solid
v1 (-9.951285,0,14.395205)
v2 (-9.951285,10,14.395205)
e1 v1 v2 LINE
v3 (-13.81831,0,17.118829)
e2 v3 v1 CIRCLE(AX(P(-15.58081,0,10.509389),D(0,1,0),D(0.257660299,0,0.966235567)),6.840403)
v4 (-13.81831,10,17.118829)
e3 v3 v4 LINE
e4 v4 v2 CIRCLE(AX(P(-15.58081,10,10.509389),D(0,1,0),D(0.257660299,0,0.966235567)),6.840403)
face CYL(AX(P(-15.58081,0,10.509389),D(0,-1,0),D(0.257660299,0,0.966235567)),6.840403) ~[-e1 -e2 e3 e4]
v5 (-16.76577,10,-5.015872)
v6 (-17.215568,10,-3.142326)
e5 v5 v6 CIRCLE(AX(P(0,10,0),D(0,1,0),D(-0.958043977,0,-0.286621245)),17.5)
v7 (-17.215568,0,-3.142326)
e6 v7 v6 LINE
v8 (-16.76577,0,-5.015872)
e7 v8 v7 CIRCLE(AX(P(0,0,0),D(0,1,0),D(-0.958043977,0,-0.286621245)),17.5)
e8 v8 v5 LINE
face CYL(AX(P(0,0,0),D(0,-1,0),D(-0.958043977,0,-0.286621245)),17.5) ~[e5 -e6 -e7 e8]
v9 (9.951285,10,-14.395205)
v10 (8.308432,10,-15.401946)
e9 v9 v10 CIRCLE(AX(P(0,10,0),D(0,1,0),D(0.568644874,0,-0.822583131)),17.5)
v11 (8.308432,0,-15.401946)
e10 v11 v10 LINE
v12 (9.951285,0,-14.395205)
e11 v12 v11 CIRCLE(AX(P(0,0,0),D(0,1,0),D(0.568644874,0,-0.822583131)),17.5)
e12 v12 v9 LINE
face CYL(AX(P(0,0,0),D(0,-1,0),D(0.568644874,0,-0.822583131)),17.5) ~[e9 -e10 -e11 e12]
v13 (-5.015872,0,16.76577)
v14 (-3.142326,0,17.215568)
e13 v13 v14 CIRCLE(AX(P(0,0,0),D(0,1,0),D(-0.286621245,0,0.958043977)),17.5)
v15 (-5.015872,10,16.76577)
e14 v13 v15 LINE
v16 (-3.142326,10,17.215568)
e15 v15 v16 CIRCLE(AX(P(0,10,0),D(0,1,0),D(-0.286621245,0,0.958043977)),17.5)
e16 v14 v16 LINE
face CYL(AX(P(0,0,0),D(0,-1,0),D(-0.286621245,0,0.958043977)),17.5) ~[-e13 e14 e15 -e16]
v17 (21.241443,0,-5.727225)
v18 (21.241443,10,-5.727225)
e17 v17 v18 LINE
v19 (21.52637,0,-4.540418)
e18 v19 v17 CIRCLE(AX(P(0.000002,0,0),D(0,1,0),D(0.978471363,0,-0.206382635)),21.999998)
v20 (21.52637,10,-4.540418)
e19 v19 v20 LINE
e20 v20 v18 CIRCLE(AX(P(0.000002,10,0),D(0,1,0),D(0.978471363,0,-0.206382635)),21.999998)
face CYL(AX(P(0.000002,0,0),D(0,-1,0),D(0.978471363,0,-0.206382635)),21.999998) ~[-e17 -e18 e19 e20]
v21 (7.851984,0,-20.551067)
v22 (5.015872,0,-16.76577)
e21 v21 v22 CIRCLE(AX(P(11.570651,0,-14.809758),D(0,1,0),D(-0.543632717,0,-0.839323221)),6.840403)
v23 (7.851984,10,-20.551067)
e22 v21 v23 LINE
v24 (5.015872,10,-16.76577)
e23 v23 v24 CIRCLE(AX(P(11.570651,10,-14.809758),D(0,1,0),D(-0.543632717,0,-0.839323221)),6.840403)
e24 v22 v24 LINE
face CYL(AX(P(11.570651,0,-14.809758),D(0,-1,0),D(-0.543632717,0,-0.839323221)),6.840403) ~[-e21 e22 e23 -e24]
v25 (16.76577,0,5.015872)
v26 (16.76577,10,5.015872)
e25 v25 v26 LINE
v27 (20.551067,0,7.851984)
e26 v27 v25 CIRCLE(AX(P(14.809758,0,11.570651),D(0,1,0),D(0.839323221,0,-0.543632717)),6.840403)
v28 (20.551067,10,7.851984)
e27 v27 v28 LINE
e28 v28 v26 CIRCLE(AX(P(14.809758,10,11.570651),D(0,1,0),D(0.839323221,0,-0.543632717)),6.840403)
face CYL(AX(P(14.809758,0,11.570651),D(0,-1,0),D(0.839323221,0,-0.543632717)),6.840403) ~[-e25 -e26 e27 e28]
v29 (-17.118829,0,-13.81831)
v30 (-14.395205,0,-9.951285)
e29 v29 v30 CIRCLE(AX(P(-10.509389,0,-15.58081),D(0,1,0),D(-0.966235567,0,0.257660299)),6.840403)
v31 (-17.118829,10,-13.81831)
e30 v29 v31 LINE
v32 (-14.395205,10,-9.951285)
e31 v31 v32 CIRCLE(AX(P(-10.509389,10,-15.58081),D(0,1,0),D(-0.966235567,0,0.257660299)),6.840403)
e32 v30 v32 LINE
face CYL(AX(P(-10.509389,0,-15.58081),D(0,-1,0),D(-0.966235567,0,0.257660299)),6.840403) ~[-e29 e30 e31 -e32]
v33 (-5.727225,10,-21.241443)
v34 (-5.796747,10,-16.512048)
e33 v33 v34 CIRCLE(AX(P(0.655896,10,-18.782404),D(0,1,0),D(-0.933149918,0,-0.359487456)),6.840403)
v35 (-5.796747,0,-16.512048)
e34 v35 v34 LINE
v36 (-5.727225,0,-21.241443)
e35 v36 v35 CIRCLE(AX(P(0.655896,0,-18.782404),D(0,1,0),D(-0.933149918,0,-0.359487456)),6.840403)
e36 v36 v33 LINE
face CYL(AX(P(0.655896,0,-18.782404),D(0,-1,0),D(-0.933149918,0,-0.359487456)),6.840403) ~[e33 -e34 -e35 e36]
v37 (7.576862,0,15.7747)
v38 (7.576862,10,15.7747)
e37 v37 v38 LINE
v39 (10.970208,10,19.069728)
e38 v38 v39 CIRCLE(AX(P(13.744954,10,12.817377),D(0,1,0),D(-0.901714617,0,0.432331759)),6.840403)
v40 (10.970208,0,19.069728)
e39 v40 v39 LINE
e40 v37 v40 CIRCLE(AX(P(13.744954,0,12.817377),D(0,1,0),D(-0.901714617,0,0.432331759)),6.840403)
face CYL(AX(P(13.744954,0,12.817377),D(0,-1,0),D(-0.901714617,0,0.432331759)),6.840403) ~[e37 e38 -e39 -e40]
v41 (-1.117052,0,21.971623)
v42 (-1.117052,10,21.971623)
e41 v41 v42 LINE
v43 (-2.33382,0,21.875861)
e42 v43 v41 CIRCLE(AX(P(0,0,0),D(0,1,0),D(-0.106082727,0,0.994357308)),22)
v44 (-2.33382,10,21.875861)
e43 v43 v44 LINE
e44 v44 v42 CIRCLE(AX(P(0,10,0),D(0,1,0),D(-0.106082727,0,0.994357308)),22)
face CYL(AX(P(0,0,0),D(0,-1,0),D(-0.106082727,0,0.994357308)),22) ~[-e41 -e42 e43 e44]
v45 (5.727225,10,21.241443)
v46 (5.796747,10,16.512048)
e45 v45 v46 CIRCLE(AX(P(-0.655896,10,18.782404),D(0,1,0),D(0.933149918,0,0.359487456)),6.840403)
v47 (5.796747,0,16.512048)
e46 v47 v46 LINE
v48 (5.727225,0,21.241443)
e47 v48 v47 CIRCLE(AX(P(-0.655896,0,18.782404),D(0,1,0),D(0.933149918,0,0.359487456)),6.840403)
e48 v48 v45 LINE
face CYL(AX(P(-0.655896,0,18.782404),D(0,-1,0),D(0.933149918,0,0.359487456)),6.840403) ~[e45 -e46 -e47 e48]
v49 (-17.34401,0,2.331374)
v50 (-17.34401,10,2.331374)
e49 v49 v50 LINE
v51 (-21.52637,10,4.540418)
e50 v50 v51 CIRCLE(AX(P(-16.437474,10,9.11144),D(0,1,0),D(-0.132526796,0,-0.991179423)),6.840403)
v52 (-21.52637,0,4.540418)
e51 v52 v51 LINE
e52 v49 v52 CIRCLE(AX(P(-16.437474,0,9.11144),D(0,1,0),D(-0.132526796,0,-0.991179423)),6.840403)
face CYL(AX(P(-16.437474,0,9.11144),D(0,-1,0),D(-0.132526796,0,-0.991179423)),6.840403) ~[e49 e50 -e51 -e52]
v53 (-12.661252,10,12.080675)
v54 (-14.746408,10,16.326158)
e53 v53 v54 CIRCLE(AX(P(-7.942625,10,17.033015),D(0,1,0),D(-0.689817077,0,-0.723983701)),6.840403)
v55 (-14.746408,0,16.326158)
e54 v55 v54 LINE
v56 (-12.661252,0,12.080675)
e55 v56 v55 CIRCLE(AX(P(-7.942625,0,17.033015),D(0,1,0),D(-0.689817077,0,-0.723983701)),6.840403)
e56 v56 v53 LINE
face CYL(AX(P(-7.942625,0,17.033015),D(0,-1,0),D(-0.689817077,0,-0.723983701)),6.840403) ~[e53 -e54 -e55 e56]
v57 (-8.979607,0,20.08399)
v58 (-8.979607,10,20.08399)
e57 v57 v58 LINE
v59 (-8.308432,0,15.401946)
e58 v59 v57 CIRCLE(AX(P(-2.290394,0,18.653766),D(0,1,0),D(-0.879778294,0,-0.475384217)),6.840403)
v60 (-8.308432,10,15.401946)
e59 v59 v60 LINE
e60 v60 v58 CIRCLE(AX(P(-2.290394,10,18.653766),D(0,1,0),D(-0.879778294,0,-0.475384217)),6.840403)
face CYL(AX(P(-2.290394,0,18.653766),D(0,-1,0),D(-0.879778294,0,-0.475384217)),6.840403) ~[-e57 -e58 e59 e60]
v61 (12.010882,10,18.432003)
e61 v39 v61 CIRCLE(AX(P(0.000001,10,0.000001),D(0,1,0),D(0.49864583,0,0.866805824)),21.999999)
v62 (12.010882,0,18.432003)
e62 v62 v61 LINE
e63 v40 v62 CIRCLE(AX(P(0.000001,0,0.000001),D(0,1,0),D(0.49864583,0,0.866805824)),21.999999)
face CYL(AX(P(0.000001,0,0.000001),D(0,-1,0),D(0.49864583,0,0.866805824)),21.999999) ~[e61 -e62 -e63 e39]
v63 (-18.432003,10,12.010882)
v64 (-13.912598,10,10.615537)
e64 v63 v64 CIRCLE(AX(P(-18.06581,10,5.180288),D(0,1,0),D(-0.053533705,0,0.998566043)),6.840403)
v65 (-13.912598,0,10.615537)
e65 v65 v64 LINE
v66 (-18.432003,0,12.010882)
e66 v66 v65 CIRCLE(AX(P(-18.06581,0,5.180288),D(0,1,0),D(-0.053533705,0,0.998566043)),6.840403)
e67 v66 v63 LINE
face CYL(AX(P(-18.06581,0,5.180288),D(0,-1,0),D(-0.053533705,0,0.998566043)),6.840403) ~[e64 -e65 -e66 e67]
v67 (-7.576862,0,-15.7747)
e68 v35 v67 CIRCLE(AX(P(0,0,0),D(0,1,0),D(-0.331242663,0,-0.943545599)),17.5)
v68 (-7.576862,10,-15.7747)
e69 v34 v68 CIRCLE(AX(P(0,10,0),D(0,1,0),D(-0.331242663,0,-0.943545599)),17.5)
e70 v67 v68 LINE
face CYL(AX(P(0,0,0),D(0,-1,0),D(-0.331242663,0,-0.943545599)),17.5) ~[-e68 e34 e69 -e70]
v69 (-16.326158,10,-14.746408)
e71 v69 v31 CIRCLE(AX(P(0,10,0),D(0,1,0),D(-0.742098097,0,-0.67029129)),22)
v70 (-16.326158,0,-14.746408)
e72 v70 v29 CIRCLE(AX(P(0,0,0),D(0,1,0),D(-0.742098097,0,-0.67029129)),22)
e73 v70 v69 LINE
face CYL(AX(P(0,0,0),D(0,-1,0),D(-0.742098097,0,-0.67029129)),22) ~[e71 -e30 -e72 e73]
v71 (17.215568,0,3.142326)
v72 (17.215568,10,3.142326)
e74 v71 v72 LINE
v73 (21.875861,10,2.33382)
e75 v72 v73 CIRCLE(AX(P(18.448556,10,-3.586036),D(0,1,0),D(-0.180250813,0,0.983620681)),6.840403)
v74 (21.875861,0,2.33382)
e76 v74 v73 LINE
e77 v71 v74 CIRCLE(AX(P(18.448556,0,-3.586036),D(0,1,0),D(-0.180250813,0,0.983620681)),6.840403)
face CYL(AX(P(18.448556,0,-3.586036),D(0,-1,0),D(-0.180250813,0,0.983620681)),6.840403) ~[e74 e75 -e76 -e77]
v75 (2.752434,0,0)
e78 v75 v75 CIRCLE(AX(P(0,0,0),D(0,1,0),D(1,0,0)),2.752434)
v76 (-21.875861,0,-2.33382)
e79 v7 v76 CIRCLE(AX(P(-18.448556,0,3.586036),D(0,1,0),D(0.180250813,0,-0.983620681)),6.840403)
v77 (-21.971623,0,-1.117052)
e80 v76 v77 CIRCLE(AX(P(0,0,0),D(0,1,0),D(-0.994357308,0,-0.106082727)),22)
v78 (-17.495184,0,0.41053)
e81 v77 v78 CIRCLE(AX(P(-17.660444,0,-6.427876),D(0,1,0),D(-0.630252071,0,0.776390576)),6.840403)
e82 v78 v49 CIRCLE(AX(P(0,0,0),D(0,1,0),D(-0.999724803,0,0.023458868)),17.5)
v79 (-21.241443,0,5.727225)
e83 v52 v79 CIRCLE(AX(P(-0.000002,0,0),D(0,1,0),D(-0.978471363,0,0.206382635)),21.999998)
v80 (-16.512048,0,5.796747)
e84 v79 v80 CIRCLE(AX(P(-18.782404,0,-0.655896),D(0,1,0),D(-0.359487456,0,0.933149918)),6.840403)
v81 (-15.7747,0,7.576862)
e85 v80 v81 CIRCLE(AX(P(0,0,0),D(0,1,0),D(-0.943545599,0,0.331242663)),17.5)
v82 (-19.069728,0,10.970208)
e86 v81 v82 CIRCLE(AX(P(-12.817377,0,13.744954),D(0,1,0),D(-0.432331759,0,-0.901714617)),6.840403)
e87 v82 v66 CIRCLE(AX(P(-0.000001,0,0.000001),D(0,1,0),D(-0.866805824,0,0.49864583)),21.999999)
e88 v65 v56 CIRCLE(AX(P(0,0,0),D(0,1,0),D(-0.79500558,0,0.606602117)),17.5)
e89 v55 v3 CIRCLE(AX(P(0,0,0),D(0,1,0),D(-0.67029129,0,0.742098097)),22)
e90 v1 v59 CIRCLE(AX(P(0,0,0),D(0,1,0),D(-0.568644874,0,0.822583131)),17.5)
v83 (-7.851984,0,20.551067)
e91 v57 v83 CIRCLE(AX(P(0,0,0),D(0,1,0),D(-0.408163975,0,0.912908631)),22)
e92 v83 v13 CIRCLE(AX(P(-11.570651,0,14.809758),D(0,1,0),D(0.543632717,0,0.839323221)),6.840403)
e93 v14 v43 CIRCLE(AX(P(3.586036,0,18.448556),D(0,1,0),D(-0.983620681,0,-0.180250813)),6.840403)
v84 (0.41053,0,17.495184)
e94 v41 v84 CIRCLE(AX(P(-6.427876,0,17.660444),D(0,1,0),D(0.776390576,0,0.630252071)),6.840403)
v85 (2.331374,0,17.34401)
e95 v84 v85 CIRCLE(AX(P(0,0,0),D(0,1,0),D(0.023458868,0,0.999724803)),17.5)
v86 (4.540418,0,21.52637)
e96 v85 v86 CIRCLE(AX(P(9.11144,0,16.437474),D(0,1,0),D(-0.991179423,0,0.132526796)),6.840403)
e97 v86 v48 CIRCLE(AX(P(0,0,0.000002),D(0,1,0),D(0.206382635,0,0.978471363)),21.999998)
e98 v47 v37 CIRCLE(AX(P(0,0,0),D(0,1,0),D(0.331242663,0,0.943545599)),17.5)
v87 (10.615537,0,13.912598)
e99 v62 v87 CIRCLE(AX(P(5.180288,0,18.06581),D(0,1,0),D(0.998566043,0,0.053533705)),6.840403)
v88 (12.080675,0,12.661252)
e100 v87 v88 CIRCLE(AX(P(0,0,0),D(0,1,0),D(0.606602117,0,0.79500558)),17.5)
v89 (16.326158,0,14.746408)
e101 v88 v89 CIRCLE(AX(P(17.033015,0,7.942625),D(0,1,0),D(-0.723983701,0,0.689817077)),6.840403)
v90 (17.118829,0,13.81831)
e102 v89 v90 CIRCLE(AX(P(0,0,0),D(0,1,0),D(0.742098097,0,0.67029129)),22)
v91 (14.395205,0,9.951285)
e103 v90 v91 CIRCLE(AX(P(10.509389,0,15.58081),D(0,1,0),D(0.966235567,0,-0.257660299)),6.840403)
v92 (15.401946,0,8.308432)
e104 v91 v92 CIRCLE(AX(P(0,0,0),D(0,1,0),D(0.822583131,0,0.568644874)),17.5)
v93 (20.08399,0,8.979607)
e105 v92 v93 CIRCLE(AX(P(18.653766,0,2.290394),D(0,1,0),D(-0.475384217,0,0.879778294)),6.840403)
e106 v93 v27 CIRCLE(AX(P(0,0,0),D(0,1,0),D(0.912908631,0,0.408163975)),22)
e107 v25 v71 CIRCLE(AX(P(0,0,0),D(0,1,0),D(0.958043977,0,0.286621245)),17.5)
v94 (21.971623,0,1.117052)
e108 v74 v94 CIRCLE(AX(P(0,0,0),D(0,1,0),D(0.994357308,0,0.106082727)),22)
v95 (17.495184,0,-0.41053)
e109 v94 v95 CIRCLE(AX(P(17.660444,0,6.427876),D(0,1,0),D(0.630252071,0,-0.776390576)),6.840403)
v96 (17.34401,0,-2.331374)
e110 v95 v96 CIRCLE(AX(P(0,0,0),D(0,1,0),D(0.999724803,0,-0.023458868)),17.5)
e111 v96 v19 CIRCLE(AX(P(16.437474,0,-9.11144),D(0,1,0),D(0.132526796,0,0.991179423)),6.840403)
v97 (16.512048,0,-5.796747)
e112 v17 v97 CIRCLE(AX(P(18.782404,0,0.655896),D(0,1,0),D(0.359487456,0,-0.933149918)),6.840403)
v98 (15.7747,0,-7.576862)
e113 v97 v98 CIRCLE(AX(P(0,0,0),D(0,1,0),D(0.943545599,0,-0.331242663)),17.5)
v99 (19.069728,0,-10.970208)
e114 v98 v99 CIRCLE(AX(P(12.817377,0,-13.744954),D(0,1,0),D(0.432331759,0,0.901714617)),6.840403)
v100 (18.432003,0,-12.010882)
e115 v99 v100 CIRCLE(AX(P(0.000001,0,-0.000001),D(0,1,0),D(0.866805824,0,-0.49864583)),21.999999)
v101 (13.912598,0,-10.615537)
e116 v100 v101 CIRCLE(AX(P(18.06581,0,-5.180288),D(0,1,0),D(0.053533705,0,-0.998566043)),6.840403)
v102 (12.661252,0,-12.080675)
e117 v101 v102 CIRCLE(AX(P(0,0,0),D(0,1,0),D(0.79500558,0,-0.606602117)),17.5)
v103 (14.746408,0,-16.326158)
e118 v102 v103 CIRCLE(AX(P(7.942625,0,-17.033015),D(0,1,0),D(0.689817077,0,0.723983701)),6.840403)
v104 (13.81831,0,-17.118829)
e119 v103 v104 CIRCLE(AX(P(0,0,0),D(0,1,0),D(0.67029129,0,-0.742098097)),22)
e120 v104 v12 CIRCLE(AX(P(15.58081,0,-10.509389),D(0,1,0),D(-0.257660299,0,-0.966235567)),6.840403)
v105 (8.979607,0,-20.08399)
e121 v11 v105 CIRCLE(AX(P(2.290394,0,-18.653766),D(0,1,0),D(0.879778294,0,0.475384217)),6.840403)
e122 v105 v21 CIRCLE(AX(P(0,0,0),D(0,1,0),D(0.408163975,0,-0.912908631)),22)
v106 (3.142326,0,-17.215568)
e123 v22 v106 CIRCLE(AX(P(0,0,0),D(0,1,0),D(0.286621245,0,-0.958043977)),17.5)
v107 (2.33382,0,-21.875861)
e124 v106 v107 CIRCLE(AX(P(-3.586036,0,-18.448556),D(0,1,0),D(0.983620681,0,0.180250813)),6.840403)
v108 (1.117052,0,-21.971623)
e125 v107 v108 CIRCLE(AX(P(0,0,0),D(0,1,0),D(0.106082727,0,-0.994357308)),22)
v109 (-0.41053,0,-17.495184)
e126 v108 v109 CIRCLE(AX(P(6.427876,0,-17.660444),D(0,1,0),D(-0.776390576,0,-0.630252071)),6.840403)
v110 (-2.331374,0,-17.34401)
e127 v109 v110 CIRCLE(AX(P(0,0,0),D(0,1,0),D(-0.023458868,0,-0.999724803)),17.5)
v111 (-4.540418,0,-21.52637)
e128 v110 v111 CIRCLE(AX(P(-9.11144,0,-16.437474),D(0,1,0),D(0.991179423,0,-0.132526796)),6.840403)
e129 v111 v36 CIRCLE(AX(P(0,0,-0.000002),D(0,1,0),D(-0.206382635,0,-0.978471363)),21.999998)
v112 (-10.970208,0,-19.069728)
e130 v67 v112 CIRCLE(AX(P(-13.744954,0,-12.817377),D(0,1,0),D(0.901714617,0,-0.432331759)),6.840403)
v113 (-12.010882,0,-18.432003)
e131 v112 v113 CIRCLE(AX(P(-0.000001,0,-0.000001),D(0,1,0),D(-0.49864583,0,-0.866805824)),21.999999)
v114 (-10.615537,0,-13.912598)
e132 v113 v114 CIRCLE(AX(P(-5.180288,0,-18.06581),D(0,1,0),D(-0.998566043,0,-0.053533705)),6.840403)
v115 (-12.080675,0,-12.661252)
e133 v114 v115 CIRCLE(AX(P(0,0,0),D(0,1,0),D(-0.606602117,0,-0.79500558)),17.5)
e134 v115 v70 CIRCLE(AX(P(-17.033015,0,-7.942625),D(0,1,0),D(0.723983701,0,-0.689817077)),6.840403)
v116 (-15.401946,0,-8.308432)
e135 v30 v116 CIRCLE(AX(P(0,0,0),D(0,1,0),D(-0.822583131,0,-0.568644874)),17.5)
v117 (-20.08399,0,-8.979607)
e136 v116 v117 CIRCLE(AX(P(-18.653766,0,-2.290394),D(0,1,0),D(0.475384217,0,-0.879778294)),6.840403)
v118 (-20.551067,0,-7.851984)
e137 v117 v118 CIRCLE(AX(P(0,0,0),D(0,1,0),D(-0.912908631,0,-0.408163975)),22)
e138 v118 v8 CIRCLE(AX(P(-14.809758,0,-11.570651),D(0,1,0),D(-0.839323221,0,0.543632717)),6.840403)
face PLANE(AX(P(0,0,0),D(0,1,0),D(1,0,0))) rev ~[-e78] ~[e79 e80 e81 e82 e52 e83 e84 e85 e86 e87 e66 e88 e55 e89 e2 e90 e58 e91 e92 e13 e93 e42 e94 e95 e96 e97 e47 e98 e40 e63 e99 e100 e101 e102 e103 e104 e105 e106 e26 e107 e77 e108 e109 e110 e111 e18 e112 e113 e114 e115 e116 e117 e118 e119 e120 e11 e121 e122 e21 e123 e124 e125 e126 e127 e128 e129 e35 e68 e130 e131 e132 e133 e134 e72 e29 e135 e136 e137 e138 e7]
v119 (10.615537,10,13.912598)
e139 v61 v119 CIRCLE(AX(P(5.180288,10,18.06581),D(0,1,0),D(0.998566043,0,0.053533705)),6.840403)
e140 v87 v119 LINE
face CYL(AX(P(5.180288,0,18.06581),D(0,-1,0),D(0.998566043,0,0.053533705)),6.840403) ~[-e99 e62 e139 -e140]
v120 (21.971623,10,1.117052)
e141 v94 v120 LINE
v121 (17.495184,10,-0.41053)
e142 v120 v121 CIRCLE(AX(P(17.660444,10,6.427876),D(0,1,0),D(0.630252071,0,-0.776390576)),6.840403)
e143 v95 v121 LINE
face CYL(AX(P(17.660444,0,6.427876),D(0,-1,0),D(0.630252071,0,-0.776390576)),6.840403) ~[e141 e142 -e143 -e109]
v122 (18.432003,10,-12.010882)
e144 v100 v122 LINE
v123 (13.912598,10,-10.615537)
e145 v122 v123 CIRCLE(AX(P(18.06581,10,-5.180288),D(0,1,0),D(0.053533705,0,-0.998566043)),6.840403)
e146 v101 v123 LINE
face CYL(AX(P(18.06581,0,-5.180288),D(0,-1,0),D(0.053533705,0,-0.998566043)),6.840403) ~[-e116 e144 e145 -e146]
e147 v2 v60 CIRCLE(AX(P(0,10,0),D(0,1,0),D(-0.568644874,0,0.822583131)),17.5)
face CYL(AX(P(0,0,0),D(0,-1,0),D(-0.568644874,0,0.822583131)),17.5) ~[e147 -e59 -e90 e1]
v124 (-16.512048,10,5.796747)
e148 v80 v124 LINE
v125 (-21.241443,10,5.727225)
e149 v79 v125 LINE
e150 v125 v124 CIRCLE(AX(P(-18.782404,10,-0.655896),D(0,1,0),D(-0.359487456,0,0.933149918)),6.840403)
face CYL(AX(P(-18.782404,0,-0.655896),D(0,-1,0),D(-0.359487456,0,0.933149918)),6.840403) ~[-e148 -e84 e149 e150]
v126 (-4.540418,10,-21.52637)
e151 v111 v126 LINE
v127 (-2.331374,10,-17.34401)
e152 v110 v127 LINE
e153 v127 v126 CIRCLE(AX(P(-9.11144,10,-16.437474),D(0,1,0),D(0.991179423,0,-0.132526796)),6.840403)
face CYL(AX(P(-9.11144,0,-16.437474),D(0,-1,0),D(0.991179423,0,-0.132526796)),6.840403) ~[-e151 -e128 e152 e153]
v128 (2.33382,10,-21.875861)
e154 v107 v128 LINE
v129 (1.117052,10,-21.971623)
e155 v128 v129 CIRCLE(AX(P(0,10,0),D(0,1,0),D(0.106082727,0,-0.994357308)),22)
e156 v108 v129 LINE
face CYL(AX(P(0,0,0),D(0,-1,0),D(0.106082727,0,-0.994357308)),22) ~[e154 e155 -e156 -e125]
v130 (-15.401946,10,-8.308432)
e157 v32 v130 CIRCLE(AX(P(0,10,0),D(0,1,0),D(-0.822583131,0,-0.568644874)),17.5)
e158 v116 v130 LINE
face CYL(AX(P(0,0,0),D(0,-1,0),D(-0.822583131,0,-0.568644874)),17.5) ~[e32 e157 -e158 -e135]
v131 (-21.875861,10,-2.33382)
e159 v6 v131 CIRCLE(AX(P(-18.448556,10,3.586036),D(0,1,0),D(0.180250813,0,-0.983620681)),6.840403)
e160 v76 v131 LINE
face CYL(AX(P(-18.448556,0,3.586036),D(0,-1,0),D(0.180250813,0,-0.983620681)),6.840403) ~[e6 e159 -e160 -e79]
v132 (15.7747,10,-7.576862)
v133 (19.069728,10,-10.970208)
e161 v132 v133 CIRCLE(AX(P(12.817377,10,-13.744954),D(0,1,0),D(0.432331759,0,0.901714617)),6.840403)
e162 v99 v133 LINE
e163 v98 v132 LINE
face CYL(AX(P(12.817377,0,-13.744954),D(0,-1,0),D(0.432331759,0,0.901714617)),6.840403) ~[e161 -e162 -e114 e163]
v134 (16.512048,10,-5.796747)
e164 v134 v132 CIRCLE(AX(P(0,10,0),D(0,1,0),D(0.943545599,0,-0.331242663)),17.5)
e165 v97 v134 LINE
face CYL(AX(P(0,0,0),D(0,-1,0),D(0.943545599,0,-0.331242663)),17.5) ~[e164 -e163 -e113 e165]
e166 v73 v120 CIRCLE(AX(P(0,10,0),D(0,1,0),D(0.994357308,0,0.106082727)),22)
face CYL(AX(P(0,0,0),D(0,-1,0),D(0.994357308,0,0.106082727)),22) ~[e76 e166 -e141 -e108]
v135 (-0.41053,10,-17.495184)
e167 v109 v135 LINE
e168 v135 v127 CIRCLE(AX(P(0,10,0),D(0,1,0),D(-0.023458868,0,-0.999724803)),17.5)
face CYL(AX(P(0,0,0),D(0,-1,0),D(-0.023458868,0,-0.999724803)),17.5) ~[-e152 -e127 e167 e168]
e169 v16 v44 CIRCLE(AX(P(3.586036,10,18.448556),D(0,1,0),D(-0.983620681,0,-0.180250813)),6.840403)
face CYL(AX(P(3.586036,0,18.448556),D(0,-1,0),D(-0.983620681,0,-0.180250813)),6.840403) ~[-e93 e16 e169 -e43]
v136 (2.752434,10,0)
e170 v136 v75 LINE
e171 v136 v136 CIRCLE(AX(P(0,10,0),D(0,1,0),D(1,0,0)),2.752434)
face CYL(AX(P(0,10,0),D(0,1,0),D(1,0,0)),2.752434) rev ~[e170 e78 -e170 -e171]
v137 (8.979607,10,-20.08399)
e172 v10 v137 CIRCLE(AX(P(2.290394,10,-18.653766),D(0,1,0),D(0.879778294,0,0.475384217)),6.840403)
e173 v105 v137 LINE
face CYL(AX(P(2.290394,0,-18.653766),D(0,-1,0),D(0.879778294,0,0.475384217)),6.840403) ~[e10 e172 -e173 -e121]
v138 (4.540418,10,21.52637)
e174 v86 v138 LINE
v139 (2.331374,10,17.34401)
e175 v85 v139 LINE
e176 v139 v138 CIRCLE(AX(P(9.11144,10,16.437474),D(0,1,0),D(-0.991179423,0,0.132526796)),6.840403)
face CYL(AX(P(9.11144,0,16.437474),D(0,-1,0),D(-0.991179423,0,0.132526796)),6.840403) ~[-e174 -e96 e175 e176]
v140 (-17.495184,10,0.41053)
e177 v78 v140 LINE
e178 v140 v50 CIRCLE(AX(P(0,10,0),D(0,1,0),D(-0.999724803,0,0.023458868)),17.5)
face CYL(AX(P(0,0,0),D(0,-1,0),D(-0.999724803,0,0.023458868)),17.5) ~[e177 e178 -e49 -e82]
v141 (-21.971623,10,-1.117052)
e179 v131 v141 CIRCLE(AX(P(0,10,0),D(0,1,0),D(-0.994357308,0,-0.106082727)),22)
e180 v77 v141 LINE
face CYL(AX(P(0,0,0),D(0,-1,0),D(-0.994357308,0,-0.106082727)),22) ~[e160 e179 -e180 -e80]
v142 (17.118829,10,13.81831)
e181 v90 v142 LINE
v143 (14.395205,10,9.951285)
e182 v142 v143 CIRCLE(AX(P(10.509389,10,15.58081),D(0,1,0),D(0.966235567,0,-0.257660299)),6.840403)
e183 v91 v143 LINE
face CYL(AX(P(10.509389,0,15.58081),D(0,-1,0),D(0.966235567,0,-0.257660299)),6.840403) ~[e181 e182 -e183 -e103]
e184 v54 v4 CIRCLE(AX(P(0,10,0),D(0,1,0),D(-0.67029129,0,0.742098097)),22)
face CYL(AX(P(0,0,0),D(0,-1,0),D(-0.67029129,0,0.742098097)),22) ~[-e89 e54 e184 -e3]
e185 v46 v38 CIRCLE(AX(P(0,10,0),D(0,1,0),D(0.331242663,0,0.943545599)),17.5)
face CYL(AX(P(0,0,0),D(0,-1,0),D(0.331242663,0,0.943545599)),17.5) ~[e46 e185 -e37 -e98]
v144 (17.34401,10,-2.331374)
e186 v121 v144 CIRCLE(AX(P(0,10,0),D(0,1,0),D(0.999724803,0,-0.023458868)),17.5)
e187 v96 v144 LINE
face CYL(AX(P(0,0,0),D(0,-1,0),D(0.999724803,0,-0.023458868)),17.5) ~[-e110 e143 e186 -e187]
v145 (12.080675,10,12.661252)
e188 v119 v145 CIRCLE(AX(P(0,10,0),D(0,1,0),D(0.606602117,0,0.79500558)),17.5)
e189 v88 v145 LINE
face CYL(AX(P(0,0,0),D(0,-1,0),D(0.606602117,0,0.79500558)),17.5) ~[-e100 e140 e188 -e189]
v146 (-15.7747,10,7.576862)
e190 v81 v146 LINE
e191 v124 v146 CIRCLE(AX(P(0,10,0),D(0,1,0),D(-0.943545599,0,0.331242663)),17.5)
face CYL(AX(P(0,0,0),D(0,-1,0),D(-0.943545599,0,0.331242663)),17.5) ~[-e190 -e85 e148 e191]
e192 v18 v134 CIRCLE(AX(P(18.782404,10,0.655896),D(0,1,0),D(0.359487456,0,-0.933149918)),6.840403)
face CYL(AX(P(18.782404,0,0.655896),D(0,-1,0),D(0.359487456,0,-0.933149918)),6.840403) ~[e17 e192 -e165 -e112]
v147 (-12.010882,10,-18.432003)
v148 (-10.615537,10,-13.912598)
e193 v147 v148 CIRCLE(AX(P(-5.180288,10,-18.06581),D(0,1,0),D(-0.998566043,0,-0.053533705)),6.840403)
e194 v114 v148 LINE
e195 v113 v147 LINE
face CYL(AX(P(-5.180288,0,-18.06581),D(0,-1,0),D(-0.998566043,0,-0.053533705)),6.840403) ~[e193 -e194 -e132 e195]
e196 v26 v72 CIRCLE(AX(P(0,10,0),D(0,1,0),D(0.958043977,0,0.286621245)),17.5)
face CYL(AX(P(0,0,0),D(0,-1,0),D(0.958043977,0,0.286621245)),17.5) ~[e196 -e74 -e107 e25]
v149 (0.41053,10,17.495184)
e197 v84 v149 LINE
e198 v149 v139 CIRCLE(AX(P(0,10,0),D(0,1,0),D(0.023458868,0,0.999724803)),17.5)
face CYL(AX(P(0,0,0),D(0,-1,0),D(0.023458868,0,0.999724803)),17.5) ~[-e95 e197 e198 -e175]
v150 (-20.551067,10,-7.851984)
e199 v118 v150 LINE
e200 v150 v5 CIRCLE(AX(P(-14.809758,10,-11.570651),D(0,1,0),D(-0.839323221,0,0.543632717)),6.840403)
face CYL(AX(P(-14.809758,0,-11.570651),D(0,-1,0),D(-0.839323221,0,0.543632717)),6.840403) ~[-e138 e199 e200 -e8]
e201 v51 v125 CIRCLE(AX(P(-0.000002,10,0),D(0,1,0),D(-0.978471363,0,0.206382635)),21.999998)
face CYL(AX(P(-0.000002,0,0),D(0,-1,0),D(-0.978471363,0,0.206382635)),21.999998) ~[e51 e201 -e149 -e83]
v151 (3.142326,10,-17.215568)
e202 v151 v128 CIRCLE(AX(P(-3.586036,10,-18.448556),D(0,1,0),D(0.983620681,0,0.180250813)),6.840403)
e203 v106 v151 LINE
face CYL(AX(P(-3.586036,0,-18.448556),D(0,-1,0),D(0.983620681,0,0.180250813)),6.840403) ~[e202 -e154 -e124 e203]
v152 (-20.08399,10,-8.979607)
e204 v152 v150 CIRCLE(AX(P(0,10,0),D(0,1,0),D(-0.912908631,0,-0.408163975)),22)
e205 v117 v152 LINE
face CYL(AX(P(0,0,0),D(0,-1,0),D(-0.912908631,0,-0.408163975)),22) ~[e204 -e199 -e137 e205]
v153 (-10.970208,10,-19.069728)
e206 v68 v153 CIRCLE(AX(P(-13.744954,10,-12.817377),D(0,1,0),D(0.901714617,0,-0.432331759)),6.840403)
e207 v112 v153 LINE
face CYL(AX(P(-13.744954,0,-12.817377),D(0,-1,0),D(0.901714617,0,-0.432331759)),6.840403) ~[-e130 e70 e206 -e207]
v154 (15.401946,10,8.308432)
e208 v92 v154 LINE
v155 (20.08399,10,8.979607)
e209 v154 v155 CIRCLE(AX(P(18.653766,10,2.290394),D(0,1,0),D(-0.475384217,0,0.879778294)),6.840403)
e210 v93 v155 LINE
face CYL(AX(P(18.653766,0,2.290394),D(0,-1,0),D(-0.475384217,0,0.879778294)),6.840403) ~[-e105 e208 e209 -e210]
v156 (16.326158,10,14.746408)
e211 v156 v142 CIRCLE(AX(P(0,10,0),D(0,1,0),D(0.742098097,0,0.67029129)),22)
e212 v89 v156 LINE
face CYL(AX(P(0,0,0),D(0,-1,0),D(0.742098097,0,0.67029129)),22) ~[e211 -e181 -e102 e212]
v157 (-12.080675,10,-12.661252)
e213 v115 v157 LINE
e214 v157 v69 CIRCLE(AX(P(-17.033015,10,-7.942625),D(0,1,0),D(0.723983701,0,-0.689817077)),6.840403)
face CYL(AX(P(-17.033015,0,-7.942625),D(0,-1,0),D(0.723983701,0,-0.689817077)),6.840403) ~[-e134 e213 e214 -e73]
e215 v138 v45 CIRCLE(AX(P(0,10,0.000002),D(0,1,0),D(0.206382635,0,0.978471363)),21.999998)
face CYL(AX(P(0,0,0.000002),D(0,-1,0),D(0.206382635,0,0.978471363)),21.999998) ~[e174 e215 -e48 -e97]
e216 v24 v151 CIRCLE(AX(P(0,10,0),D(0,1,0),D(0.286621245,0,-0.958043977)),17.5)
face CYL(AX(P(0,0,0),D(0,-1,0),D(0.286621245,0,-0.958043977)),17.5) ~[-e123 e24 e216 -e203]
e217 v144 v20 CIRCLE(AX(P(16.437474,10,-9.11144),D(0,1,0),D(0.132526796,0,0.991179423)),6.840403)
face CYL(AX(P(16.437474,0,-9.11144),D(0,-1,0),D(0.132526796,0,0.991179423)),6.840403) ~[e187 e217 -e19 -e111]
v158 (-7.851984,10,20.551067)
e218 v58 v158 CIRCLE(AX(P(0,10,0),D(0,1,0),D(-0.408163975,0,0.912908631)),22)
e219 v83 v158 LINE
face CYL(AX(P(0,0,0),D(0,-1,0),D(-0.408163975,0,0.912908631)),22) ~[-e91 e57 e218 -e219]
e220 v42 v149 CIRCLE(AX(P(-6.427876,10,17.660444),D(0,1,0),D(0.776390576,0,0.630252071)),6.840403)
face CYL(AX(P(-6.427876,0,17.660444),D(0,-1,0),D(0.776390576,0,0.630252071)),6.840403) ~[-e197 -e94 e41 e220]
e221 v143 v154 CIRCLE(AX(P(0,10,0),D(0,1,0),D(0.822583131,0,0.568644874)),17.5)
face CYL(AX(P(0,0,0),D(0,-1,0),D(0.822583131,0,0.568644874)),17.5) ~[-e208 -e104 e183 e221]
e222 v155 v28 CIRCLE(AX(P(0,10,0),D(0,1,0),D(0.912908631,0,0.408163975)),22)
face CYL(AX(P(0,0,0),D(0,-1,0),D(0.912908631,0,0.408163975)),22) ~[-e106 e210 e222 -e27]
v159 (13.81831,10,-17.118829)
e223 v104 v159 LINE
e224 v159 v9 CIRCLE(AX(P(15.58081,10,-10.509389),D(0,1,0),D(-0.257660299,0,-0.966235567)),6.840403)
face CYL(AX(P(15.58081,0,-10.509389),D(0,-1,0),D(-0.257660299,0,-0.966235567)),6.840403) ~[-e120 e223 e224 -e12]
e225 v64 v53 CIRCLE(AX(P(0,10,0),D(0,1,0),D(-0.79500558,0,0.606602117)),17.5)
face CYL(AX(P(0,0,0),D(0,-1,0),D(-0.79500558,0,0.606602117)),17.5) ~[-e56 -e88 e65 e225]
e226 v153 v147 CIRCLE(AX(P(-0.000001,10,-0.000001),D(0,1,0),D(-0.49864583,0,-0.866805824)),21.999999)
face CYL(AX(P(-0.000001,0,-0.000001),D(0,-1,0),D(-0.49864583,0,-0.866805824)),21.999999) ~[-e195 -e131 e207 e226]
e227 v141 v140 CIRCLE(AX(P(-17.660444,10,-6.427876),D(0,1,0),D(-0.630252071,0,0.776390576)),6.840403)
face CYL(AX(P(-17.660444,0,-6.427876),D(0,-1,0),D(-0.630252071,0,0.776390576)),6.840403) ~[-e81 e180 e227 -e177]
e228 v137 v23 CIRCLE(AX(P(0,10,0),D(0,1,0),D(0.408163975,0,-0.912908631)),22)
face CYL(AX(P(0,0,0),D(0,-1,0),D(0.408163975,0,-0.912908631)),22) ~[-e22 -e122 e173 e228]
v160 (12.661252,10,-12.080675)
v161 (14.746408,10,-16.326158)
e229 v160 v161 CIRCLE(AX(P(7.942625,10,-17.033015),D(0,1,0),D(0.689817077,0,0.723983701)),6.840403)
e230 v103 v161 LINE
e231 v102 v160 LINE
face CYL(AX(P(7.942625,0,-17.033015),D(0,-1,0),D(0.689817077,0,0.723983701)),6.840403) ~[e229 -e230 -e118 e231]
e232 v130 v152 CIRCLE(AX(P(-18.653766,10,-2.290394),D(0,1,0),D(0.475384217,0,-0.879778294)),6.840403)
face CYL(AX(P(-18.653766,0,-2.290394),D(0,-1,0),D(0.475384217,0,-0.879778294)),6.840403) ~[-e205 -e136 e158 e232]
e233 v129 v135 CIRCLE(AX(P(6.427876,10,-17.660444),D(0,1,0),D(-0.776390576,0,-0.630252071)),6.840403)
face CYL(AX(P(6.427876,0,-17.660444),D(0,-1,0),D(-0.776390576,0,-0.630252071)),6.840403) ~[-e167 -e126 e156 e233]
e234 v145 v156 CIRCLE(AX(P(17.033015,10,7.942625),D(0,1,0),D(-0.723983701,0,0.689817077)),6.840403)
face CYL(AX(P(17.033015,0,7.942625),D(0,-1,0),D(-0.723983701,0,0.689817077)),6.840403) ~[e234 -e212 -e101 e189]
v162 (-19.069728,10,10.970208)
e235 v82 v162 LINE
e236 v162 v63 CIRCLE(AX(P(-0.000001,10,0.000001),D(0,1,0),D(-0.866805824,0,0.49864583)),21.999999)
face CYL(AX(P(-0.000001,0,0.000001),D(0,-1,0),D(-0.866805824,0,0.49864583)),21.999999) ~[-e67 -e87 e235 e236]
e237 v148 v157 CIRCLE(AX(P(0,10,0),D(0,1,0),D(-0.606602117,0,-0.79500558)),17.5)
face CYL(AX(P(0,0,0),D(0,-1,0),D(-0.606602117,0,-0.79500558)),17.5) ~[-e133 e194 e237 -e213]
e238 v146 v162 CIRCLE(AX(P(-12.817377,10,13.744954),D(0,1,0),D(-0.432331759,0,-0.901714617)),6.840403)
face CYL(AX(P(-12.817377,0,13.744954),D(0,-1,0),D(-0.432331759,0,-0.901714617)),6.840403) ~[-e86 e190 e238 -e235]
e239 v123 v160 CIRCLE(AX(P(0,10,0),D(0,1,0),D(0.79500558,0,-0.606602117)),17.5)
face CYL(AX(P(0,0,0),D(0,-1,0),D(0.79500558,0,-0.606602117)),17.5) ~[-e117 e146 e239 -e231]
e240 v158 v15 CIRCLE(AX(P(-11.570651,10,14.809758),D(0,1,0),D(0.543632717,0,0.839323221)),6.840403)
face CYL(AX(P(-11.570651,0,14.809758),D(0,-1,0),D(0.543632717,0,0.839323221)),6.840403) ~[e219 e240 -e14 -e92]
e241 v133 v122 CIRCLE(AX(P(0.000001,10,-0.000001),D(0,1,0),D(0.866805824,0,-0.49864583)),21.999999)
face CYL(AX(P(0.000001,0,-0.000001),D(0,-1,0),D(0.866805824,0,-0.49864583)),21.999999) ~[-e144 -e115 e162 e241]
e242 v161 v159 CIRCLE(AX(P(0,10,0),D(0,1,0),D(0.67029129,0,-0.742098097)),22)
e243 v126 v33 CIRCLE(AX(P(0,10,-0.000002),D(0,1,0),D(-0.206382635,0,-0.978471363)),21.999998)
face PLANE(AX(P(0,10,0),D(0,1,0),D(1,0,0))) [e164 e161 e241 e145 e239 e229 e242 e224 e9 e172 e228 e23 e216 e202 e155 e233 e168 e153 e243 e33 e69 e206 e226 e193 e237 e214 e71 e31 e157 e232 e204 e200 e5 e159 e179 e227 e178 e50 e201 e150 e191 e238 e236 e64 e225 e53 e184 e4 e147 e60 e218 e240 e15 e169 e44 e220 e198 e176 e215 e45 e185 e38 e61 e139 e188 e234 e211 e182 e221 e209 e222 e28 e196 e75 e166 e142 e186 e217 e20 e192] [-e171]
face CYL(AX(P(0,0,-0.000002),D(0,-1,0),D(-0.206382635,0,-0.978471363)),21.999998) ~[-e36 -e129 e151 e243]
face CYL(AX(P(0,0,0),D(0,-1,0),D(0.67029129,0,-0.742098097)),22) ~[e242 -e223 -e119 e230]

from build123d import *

# Parameters (mm, degrees)
EXTRUDE_1_DEPTH          = 10
SKETCH_2_R               = 2.752434458
CUT_EXTRUDE_1_DEPTH      = 1
CUT_EXTRUDE_1_DEPTH_BACK = 11


with BuildPart() as part:
    # 草图1 → 凸台-拉伸1 (new body)
    with BuildSketch(Plane(origin=(0, 0, 0), x_dir=(1, 0, 0), z_dir=(0, 1, 0))):
        with BuildLine():
            ThreePointArc((1.117051771, 21.971622501), (-0.045961741, 19.869637729), (-0.410530178, 17.495184051))
            ThreePointArc((-0.410530178, 17.495184051), (-1.373034175, 17.44605334), (-2.331373887, 17.344010372))
            ThreePointArc((-2.331373887, 17.344010372), (-3.062900273, 19.632199517), (-4.540418022, 21.526369972))
            ThreePointArc((-4.540418022, 21.526369972), (-5.135798005, 21.392138249), (-5.727225381, 21.241442734))
            ThreePointArc((-5.727225381, 21.241442734), (-6.183767943, 18.882945479), (-5.796746593, 16.512047994))
            ThreePointArc((-5.796746593, 16.512047994), (-6.696960066, 16.167891819), (-7.576862283, 15.774699932))
            ThreePointArc((-7.576862283, 15.774699932), (-8.979674551, 17.724843043), (-10.970208295, 19.069728104))
            ThreePointArc((-10.970208295, 19.069728104), (-11.494968424, 18.758083616), (-12.010881809, 18.432002554))
            ThreePointArc((-12.010881809, 18.432002554), (-11.716263855, 16.047858961), (-10.615537062, 13.912597632))
            ThreePointArc((-10.615537062, 13.912597632), (-11.365340846, 13.307104398), (-12.080674608, 12.661251953))
            ThreePointArc((-12.080674608, 12.661251953), (-14.017455719, 14.082455436), (-16.326158146, 14.746408382))
            ThreePointArc((-16.326158146, 14.746408382), (-16.728931243, 14.287857063), (-17.118829441, 13.818309541))
            ThreePointArc((-17.118829441, 13.818309541), (-16.101890228, 11.641896196), (-14.395204801, 9.95128528))
            ThreePointArc((-14.395204801, 9.95128528), (-14.921202876, 9.143724883), (-15.40194633, 8.308432417))
            ThreePointArc((-15.40194633, 8.308432417), (-17.683110656, 9.061578973), (-20.083989887, 8.979607464))
            ThreePointArc((-20.083989887, 8.979607464), (-20.325349715, 8.419035512), (-20.551066773, 7.851984112))
            ThreePointArc((-20.551066773, 7.851984112), (-18.911351397, 6.096343517), (-16.765769597, 5.01587179))
            ThreePointArc((-16.765769597, 5.01587179), (-17.016473607, 4.085293867), (-17.215568235, 3.142325628))
            ThreePointArc((-17.215568235, 3.142325628), (-19.617819516, 3.153692024), (-21.875860765, 2.333820002))
            ThreePointArc((-21.875860765, 2.333820002), (-21.932181342, 1.726100106), (-21.971622501, 1.117051771))
            ThreePointArc((-21.971622501, 1.117051771), (-19.869637729, -0.045961741), (-17.495184051, -0.410530178))
            ThreePointArc((-17.495184051, -0.410530178), (-17.44605334, -1.373034175), (-17.344010372, -2.331373887))
            ThreePointArc((-17.344010372, -2.331373887), (-19.632199517, -3.062900273), (-21.526369972, -4.540418022))
            ThreePointArc((-21.526369972, -4.540418022), (-21.392138249, -5.135798005), (-21.241442734, -5.727225381))
            ThreePointArc((-21.241442734, -5.727225381), (-18.882945479, -6.183767943), (-16.512047994, -5.796746593))
            ThreePointArc((-16.512047994, -5.796746593), (-16.167891819, -6.696960066), (-15.774699932, -7.576862283))
            ThreePointArc((-15.774699932, -7.576862283), (-17.724843043, -8.979674551), (-19.069728104, -10.970208295))
            ThreePointArc((-19.069728104, -10.970208295), (-18.758083616, -11.494968424), (-18.432002554, -12.010881809))
            ThreePointArc((-18.432002554, -12.010881809), (-16.047858961, -11.716263855), (-13.912597632, -10.615537062))
            ThreePointArc((-13.912597632, -10.615537062), (-13.307104398, -11.365340846), (-12.661251953, -12.080674608))
            ThreePointArc((-12.661251953, -12.080674608), (-14.082455436, -14.017455719), (-14.746408382, -16.326158146))
            ThreePointArc((-14.746408382, -16.326158146), (-14.287857063, -16.728931243), (-13.818309541, -17.118829441))
            ThreePointArc((-13.818309541, -17.118829441), (-11.641896196, -16.101890228), (-9.95128528, -14.395204801))
            ThreePointArc((-9.95128528, -14.395204801), (-9.143724883, -14.921202876), (-8.308432417, -15.40194633))
            ThreePointArc((-8.308432417, -15.40194633), (-9.061578973, -17.683110656), (-8.979607464, -20.083989887))
            ThreePointArc((-8.979607464, -20.083989887), (-8.419035512, -20.325349715), (-7.851984112, -20.551066773))
            ThreePointArc((-7.851984112, -20.551066773), (-6.096343517, -18.911351397), (-5.01587179, -16.765769597))
            ThreePointArc((-5.01587179, -16.765769597), (-4.085293867, -17.016473607), (-3.142325628, -17.215568235))
            ThreePointArc((-3.142325628, -17.215568235), (-3.153692024, -19.617819516), (-2.333820002, -21.875860765))
            ThreePointArc((-2.333820002, -21.875860765), (-1.726100106, -21.932181342), (-1.117051771, -21.971622501))
            ThreePointArc((-1.117051771, -21.971622501), (0.045961741, -19.869637729), (0.410530178, -17.495184051))
            ThreePointArc((0.410530178, -17.495184051), (1.373034175, -17.44605334), (2.331373887, -17.344010372))
            ThreePointArc((2.331373887, -17.344010372), (3.062900273, -19.632199517), (4.540418022, -21.526369972))
            ThreePointArc((4.540418022, -21.526369972), (5.135798005, -21.392138249), (5.727225381, -21.241442734))
            ThreePointArc((5.727225381, -21.241442734), (6.183767943, -18.882945479), (5.796746593, -16.512047994))
            ThreePointArc((5.796746593, -16.512047994), (6.696960066, -16.167891819), (7.576862283, -15.774699932))
            ThreePointArc((7.576862283, -15.774699932), (8.979674551, -17.724843043), (10.970208295, -19.069728104))
            ThreePointArc((10.970208295, -19.069728104), (11.494968424, -18.758083616), (12.010881809, -18.432002554))
            ThreePointArc((12.010881809, -18.432002554), (11.716263855, -16.047858961), (10.615537062, -13.912597632))
            ThreePointArc((10.615537062, -13.912597632), (11.365340846, -13.307104398), (12.080674608, -12.661251953))
            ThreePointArc((12.080674608, -12.661251953), (14.017455719, -14.082455436), (16.326158146, -14.746408382))
            ThreePointArc((16.326158146, -14.746408382), (16.728931243, -14.287857063), (17.118829441, -13.818309541))
            ThreePointArc((17.118829441, -13.818309541), (16.101890228, -11.641896196), (14.395204801, -9.95128528))
            ThreePointArc((14.395204801, -9.95128528), (14.921202876, -9.143724883), (15.40194633, -8.308432417))
            ThreePointArc((15.40194633, -8.308432417), (17.683110656, -9.061578973), (20.083989887, -8.979607464))
            ThreePointArc((20.083989887, -8.979607464), (20.325349715, -8.419035512), (20.551066773, -7.851984112))
            ThreePointArc((20.551066773, -7.851984112), (18.911351397, -6.096343517), (16.765769597, -5.01587179))
            ThreePointArc((16.765769597, -5.01587179), (17.016473607, -4.085293867), (17.215568235, -3.142325628))
            ThreePointArc((17.215568235, -3.142325628), (19.617819516, -3.153692024), (21.875860765, -2.333820002))
            ThreePointArc((21.875860765, -2.333820002), (21.932181342, -1.726100106), (21.971622501, -1.117051771))
            ThreePointArc((21.971622501, -1.117051771), (19.869637729, 0.045961741), (17.495184051, 0.410530178))
            ThreePointArc((17.495184051, 0.410530178), (17.44605334, 1.373034175), (17.344010372, 2.331373887))
            ThreePointArc((17.344010372, 2.331373887), (19.632199517, 3.062900273), (21.526369972, 4.540418022))
            ThreePointArc((21.526369972, 4.540418022), (21.392138249, 5.135798005), (21.241442734, 5.727225381))
            ThreePointArc((21.241442734, 5.727225381), (18.882945479, 6.183767943), (16.512047994, 5.796746593))
            ThreePointArc((16.512047994, 5.796746593), (16.167891819, 6.696960066), (15.774699932, 7.576862283))
            ThreePointArc((15.774699932, 7.576862283), (17.724843043, 8.979674551), (19.069728104, 10.970208295))
            ThreePointArc((19.069728104, 10.970208295), (18.758083616, 11.494968424), (18.432002554, 12.010881809))
            ThreePointArc((18.432002554, 12.010881809), (16.047858961, 11.716263855), (13.912597632, 10.615537062))
            ThreePointArc((13.912597632, 10.615537062), (13.307104398, 11.365340846), (12.661251953, 12.080674608))
            ThreePointArc((12.661251953, 12.080674608), (14.082455436, 14.017455719), (14.746408382, 16.326158146))
            ThreePointArc((14.746408382, 16.326158146), (14.287857063, 16.728931243), (13.818309541, 17.118829441))
            ThreePointArc((13.818309541, 17.118829441), (11.641896196, 16.101890228), (9.95128528, 14.395204801))
            ThreePointArc((9.95128528, 14.395204801), (9.143724883, 14.921202876), (8.308432417, 15.40194633))
            ThreePointArc((8.308432417, 15.40194633), (9.061578973, 17.683110656), (8.979607464, 20.083989887))
            ThreePointArc((8.979607464, 20.083989887), (8.419035512, 20.325349715), (7.851984112, 20.551066773))
            ThreePointArc((7.851984112, 20.551066773), (6.096343517, 18.911351397), (5.01587179, 16.765769597))
            ThreePointArc((5.01587179, 16.765769597), (4.085293867, 17.016473607), (3.142325628, 17.215568235))
            ThreePointArc((3.142325628, 17.215568235), (3.153692024, 19.617819516), (2.333820002, 21.875860765))
            ThreePointArc((2.333820002, 21.875860765), (1.726100106, 21.932181342), (1.117051771, 21.971622501))
        make_face()
    extrude(amount=EXTRUDE_1_DEPTH)

    # 草图2 → 切除-拉伸1 (cut, two sides)
    with BuildSketch(Plane(origin=(0, 10, 0), x_dir=(1, 0, 0), z_dir=(0, 1, 0))) as cut_extrude_1_sk:
        Circle(SKETCH_2_R)
    extrude(amount=CUT_EXTRUDE_1_DEPTH, mode=Mode.SUBTRACT)
    extrude(cut_extrude_1_sk.sketch, amount=-CUT_EXTRUDE_1_DEPTH_BACK, mode=Mode.SUBTRACT)


solid = part.part
